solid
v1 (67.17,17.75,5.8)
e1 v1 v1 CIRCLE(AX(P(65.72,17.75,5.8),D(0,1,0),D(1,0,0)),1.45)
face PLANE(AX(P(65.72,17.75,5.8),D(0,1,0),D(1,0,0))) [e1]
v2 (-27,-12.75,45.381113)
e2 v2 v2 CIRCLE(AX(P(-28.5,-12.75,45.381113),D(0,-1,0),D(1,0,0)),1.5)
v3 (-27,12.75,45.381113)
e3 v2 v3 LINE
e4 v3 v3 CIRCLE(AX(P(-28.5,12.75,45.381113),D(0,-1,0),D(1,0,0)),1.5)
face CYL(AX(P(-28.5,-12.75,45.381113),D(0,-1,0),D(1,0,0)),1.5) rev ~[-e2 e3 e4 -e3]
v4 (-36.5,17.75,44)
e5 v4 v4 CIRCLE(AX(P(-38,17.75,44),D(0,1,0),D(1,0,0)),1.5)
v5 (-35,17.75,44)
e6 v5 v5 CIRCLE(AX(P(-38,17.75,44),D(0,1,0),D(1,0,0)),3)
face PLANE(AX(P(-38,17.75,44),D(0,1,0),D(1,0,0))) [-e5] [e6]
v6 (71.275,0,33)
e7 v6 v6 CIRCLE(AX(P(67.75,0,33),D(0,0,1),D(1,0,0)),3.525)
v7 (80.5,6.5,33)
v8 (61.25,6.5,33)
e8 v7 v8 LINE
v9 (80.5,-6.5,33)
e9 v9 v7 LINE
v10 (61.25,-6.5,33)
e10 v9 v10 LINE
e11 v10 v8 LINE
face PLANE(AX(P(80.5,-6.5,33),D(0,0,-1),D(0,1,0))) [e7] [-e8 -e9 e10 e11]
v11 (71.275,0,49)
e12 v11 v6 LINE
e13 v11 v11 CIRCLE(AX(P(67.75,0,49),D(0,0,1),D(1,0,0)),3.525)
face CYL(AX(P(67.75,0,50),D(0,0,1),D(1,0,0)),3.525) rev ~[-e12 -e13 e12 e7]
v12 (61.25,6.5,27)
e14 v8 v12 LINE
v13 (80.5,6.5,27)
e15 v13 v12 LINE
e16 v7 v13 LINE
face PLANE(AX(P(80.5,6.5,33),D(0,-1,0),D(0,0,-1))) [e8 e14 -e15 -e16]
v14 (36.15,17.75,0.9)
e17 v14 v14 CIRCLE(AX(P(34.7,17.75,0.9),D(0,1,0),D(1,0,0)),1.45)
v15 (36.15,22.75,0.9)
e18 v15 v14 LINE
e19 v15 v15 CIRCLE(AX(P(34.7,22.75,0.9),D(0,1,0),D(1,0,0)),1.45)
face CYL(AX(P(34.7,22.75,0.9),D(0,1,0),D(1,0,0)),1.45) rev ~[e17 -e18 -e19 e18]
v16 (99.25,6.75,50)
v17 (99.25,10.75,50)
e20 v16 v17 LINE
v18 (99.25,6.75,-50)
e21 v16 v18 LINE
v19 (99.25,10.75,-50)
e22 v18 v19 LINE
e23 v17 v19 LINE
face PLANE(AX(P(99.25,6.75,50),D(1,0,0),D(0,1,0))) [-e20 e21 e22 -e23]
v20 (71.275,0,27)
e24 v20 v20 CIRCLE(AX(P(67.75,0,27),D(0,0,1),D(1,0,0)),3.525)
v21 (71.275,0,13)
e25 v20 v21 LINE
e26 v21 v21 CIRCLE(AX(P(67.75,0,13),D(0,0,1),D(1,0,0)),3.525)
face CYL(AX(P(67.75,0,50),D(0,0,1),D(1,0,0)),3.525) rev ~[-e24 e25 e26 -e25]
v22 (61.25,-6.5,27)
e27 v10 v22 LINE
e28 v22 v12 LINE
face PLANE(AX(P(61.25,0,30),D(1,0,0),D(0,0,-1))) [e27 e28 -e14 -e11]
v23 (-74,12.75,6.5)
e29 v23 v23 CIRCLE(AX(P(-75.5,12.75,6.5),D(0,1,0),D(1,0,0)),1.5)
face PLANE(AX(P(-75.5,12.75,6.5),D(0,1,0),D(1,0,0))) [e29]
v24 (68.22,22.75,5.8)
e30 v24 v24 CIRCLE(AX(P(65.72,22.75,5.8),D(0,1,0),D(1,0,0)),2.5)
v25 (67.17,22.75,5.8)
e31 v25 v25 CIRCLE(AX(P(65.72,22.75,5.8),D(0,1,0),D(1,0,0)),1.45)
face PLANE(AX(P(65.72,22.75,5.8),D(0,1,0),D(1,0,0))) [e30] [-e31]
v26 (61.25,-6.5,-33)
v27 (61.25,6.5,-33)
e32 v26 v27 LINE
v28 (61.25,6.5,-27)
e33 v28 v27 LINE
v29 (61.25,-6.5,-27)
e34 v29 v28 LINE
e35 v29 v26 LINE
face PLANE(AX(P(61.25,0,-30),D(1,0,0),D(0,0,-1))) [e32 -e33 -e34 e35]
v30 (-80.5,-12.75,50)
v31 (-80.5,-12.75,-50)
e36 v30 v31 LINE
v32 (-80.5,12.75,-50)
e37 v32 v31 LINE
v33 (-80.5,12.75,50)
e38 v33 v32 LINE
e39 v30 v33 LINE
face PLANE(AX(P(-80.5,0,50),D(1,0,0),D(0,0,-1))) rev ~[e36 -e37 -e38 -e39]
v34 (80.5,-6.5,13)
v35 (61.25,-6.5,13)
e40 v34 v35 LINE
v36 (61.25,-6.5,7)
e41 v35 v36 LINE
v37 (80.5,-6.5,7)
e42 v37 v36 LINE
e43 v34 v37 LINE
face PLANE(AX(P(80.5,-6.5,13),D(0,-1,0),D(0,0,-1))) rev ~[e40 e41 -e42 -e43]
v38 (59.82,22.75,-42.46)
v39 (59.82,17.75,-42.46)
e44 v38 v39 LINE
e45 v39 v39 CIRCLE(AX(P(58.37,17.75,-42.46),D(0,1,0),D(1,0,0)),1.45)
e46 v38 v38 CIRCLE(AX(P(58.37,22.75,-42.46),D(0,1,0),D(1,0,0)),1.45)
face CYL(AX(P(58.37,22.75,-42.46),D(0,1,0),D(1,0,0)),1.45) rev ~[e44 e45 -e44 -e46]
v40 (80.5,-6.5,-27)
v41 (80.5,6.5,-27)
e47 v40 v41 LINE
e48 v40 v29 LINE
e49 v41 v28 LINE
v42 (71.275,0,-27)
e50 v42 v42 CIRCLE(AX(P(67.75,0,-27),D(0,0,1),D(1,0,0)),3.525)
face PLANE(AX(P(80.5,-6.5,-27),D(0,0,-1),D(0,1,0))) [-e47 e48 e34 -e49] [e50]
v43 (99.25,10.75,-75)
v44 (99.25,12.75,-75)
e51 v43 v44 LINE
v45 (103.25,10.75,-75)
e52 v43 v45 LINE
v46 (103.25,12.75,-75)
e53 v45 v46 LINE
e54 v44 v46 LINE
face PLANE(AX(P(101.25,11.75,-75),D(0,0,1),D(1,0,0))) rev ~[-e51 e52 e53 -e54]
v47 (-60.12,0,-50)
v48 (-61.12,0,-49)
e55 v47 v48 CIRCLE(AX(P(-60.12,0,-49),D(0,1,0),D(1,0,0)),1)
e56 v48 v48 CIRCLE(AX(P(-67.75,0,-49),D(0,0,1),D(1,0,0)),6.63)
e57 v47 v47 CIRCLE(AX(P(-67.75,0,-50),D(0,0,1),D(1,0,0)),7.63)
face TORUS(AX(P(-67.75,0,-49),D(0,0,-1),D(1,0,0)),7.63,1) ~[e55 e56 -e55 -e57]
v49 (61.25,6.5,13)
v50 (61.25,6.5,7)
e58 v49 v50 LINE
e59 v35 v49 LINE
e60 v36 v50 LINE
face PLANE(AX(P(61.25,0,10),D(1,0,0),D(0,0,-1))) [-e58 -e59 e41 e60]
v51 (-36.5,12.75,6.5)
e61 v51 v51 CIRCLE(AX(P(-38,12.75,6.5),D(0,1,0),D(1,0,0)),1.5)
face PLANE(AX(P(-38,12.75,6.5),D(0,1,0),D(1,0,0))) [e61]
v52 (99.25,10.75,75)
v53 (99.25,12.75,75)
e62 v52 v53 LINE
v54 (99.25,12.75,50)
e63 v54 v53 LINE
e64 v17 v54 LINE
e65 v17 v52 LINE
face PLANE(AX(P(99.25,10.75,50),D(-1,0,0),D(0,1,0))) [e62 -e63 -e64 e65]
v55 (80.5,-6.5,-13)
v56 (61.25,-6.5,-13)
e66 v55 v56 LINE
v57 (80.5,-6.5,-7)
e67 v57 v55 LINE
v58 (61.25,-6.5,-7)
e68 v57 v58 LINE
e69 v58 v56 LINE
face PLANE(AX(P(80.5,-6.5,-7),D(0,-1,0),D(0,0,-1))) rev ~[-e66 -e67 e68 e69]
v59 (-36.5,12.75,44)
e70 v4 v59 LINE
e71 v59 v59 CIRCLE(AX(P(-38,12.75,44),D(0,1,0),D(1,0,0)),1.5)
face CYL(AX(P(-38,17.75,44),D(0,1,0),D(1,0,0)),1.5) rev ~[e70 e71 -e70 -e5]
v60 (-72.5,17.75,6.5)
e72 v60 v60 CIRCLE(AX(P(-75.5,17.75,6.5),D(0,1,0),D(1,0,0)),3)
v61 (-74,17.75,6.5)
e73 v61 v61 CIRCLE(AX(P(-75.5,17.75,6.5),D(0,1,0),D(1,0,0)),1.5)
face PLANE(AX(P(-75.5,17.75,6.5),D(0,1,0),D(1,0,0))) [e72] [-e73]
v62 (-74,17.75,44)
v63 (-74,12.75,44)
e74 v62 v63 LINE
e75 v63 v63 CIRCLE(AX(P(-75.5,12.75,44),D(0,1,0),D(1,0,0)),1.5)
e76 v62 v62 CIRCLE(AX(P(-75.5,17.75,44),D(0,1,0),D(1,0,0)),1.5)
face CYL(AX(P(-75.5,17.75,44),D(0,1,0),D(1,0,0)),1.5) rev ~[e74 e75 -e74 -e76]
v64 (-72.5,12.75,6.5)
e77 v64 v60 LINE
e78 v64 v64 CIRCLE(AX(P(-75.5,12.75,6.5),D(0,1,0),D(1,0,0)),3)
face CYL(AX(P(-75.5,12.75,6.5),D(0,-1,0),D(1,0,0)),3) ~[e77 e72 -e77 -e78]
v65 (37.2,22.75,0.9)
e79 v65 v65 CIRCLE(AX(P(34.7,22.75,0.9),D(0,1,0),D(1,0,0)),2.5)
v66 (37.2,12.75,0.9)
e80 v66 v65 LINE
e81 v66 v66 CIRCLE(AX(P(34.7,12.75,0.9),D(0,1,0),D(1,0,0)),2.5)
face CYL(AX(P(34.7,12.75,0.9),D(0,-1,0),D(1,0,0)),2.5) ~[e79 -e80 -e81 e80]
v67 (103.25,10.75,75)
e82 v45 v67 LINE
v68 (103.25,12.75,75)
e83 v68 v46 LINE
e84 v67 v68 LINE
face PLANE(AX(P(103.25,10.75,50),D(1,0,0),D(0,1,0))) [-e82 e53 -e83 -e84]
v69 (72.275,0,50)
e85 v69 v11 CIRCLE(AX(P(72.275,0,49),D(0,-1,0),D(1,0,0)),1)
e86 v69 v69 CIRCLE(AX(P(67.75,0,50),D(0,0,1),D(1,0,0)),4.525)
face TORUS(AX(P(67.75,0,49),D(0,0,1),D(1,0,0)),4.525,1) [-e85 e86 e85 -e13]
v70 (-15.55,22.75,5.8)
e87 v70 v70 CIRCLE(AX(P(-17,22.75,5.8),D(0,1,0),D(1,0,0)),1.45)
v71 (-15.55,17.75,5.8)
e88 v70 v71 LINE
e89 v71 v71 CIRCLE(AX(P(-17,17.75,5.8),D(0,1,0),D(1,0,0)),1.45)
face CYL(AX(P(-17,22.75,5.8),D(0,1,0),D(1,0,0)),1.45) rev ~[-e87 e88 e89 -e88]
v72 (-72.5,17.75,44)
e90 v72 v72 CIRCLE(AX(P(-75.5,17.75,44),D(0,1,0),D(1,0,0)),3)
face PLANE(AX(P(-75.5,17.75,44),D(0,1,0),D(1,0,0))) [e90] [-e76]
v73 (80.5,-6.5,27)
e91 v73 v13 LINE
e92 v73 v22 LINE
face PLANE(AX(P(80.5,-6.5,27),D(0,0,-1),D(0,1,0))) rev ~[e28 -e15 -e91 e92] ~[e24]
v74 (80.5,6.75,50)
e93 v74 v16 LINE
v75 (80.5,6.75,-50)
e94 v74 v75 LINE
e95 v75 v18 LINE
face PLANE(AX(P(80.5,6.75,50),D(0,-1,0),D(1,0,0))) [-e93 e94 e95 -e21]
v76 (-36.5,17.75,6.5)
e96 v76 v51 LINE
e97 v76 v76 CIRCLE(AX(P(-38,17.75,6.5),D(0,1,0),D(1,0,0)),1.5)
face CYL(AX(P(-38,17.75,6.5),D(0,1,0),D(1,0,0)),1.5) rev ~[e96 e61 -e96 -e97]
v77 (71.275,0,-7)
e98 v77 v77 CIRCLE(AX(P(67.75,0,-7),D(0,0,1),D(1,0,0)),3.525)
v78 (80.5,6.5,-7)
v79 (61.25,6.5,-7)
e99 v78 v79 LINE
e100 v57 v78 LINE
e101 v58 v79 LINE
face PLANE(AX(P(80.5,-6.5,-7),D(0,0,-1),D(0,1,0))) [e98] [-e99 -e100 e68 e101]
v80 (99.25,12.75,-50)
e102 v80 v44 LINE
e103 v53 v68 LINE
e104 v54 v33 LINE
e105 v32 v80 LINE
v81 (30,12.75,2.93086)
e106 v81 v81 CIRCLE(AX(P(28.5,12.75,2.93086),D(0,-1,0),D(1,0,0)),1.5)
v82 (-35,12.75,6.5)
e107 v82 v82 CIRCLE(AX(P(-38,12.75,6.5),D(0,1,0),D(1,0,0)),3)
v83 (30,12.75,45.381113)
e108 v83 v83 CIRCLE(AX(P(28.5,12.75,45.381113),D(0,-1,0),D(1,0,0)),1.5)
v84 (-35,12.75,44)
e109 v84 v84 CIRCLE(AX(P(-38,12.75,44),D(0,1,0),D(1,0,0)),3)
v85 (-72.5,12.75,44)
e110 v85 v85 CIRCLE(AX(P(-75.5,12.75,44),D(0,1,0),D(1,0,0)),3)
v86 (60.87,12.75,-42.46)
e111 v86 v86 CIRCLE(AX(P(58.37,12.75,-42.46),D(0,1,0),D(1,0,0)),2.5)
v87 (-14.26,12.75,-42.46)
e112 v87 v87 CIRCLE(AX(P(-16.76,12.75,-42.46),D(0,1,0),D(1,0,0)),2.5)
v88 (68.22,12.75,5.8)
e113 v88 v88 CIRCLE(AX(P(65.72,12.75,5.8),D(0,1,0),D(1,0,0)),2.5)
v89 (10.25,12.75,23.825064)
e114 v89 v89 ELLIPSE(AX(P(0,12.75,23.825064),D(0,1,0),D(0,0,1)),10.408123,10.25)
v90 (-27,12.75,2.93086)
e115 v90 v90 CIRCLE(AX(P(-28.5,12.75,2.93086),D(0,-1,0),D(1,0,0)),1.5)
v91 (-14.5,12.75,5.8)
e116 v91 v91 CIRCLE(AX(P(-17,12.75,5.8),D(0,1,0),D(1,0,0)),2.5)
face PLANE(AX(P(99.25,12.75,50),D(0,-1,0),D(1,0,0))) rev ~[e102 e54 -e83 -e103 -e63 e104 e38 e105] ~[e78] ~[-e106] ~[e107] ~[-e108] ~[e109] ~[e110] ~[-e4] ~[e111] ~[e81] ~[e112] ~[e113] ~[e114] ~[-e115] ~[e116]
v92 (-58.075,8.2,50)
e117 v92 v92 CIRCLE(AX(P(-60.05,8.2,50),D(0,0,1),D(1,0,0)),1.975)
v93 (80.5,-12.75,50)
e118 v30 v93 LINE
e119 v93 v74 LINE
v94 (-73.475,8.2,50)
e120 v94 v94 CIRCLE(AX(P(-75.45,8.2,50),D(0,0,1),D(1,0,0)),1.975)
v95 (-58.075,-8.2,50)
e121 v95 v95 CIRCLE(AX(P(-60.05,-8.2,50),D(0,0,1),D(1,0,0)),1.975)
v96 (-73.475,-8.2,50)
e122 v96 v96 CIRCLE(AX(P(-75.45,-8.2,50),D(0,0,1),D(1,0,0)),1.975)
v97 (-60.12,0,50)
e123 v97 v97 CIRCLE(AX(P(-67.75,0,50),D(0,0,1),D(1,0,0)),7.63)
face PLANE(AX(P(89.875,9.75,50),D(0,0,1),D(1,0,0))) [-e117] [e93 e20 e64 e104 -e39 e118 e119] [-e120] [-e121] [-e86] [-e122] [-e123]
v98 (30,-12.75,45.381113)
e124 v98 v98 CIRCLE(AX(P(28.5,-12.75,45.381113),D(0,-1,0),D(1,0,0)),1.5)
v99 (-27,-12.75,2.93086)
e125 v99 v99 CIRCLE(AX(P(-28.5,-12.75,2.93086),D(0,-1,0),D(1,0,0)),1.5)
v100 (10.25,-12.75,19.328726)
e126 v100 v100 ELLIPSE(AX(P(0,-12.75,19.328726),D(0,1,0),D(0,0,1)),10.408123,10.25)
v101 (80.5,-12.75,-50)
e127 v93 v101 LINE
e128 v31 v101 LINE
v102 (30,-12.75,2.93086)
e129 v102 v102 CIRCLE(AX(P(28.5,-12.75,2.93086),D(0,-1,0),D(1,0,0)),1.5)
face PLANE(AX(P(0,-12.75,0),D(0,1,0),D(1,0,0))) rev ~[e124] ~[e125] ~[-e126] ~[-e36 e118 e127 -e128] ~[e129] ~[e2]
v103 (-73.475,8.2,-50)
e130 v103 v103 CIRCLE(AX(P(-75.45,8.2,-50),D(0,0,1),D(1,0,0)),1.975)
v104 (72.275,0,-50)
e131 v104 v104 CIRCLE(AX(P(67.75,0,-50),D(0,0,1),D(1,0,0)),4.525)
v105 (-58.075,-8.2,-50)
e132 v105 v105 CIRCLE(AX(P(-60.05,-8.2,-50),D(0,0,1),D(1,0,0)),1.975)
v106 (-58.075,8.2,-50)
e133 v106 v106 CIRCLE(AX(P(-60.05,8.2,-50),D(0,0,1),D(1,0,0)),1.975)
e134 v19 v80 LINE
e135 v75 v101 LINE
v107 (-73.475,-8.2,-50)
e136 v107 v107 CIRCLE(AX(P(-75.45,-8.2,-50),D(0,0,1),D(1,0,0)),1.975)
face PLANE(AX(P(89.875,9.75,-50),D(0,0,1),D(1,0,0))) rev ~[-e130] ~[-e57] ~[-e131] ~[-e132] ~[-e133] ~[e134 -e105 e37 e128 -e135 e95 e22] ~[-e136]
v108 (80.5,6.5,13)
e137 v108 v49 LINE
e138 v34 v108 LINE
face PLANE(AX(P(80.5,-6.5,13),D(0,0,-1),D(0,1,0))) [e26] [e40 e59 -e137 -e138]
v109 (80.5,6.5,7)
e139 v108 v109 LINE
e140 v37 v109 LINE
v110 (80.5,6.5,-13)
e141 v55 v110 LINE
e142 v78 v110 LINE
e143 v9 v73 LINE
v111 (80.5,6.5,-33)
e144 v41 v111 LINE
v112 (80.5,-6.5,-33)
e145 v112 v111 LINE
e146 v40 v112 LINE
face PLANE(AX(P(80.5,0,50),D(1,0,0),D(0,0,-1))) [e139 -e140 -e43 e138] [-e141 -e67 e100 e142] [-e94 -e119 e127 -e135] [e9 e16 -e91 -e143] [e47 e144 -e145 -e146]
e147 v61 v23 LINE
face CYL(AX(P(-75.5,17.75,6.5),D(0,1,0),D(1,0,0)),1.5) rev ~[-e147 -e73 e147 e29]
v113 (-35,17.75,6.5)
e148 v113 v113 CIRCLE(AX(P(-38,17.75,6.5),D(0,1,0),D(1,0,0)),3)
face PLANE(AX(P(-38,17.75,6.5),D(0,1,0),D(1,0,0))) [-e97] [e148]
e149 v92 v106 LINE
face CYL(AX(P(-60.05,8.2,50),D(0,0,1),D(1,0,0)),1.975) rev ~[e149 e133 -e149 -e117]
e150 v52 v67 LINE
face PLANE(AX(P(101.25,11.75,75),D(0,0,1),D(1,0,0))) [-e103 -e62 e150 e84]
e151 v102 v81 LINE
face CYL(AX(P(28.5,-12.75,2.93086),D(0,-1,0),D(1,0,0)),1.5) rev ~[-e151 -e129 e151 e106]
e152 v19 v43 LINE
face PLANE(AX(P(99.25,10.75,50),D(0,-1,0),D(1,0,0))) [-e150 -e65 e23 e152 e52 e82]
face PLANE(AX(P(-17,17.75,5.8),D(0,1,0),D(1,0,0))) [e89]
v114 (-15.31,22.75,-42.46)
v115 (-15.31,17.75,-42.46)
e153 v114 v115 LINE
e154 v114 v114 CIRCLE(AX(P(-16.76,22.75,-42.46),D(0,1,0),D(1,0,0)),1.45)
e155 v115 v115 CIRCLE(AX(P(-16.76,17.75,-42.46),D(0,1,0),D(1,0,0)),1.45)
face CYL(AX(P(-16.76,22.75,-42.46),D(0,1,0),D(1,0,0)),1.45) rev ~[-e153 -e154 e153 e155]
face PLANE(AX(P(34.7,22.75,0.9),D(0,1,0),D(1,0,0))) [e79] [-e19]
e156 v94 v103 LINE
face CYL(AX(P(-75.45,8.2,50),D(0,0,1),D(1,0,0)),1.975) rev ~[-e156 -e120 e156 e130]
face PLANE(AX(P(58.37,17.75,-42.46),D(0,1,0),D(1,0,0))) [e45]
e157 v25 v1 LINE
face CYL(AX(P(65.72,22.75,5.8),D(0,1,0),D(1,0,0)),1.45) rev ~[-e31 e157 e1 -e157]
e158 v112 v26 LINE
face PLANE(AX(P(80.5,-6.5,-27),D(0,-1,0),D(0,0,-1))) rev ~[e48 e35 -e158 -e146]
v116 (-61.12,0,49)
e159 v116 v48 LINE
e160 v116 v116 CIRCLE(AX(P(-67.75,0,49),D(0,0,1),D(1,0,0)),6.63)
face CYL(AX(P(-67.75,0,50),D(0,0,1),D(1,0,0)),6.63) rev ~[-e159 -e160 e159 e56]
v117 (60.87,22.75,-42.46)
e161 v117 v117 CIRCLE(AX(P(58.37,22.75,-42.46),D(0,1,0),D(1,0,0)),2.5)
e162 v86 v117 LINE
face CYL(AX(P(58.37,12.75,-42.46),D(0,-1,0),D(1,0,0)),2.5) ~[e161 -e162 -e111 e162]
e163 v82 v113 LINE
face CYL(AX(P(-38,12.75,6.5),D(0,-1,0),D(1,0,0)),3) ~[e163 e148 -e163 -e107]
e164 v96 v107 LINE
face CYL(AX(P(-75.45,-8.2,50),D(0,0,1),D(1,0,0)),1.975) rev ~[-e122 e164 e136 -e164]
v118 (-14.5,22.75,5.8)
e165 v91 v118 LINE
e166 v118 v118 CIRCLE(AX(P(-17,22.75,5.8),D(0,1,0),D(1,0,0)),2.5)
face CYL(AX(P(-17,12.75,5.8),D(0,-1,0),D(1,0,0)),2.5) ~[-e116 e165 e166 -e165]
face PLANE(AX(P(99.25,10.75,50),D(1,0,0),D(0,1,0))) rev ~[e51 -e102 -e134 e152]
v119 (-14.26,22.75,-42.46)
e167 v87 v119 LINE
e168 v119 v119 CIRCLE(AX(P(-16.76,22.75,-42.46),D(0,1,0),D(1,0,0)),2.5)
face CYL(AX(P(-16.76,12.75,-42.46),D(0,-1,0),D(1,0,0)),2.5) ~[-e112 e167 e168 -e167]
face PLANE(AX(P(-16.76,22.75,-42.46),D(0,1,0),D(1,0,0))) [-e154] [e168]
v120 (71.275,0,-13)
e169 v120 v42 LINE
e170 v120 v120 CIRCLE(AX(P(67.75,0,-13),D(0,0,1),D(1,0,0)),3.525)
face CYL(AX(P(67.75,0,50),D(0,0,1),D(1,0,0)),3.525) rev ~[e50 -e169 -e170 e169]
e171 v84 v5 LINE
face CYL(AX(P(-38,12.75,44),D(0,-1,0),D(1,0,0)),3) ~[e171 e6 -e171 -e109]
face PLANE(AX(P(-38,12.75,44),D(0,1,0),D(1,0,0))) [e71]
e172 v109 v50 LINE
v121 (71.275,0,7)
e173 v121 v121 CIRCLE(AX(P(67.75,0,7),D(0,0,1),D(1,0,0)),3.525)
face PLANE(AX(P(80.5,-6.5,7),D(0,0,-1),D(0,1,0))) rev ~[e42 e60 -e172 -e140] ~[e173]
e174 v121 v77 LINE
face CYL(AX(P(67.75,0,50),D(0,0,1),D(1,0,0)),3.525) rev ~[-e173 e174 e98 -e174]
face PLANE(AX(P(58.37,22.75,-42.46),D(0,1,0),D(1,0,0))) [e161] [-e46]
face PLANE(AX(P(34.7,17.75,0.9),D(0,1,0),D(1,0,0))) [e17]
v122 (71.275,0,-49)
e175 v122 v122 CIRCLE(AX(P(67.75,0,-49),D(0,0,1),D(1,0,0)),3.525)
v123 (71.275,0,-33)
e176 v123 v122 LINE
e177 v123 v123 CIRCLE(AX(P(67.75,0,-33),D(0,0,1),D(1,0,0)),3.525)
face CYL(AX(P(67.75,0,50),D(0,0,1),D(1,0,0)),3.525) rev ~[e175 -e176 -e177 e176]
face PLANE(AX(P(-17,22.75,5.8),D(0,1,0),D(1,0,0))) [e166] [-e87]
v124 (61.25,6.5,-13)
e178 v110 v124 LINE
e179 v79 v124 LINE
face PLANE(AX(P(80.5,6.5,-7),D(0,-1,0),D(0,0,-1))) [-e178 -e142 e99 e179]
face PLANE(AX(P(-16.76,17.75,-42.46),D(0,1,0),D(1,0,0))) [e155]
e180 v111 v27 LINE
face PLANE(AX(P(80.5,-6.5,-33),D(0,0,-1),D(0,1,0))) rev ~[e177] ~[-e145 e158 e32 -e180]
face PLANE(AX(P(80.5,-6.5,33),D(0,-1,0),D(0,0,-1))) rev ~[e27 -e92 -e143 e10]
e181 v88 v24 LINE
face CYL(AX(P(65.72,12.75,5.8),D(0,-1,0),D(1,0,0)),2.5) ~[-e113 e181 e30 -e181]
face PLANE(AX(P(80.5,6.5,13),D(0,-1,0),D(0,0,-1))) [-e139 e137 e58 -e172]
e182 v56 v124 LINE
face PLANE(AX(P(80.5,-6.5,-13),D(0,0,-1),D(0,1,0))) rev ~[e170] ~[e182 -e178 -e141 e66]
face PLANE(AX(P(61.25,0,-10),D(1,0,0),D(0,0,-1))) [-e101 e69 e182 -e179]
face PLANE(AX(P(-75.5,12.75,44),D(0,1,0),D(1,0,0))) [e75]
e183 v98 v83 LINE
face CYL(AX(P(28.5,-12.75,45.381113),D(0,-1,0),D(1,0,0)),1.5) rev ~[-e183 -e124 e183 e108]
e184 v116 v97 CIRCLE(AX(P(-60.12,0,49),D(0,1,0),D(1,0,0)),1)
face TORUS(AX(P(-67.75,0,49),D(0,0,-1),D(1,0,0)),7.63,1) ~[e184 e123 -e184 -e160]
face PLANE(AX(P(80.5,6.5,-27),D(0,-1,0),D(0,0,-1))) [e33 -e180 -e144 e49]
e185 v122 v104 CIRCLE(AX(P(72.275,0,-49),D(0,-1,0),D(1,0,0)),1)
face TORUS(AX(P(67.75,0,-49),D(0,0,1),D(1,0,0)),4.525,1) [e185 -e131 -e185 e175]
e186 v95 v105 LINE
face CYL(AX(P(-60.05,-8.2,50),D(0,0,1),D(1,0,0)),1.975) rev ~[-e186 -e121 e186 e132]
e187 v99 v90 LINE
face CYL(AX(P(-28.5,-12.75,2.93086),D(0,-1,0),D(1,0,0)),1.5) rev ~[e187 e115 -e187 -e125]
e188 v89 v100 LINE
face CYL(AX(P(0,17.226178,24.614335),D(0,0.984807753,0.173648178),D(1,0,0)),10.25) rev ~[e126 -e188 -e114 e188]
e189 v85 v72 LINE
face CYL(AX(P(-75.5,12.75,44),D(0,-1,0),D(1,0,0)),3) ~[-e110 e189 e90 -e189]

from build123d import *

# Parameters (mm, degrees)
SKETCH1_W                = 161
SKETCH1_H                = 100
BOSS_EXTRUDE1_DEPTH      = 12.75
BOSS_EXTRUDE1_DEPTH_BACK = 12.75
SKETCH2_R                = 6.63
SKETCH2_R_2              = 3.525
SKETCH2_R_3              = 1.975
CUT_EXTRUDE1_DEPTH       = 101
FILLET1_R                = 1
FILLET2_R                = 1
FILLET3_R                = 1
FILLET4_R                = 1
SKETCH3_R                = 2.5
BOSS_EXTRUDE2_DEPTH      = 10
SKETCH4_R                = 1.45
CUT_EXTRUDE2_DEPTH       = 5
SKETCH5_W                = 6
SKETCH5_H                = 13
CUT_EXTRUDE3_DEPTH       = 19.25
SKETCH6_R                = 10.25
CUT_EXTRUDE4_DEPTH       = 43.477415469
SKETCH8_R                = 1.5
CUT_EXTRUDE5_DEPTH       = 36.5
SKETCH11_R               = 3
BOSS_EXTRUDE4_DEPTH      = 5
SKETCH12_R               = 1.5
CUT_EXTRUDE7_DEPTH       = 5
SKETCH13_W               = 18.75
SKETCH13_H               = 6
BOSS_EXTRUDE5_DEPTH      = 100
SKETCH14_W               = 4
SKETCH14_H               = 2
BOSS_EXTRUDE6_DEPTH      = 25
BOSS_EXTRUDE6_DEPTH_BACK = 125


with BuildPart() as part:
    # Sketch1 → Boss-Extrude1 (new body, two sides)
    with BuildSketch(Plane(origin=(0, 0, 0), x_dir=(1, 0, 0), z_dir=(0, 1, 0))) as boss_extrude1_sk:
        Rectangle(SKETCH1_W, SKETCH1_H)
    extrude(amount=BOSS_EXTRUDE1_DEPTH)
    extrude(boss_extrude1_sk.sketch, amount=-BOSS_EXTRUDE1_DEPTH_BACK)

    # Sketch2 → Cut-Extrude1 (cut, through all)
    with BuildSketch(Plane.XY.offset(50)):
        with Locations((-67.75, 0)):
            Circle(SKETCH2_R)
        with Locations((67.75, 0)):
            Circle(SKETCH2_R_2)
        with Locations((-75.45, 8.2)):
            Circle(SKETCH2_R_3)
        with Locations((-75.45, -8.2)):
            Circle(SKETCH2_R_3)
        with Locations((-60.05, -8.2)):
            Circle(SKETCH2_R_3)
        with Locations((-60.05, 8.2)):
            Circle(SKETCH2_R_3)
    extrude(amount=-CUT_EXTRUDE1_DEPTH, mode=Mode.SUBTRACT)

    # Fillet1
    fillet1_edges = [part.edges().sort_by_distance(p)[0] for p in [
        (-74.38, 0, -50),
    ]]
    fillet(fillet1_edges, radius=FILLET1_R)

    # Fillet2
    fillet2_edges = [part.edges().sort_by_distance(p)[0] for p in [
        (-74.38, 0, 50),
    ]]
    fillet(fillet2_edges, radius=FILLET2_R)

    # Fillet3
    fillet3_edges = [part.edges().sort_by_distance(p)[0] for p in [
        (64.225, 0, 50),
    ]]
    fillet(fillet3_edges, radius=FILLET3_R)

    # Fillet4
    fillet4_edges = [part.edges().sort_by_distance(p)[0] for p in [
        (64.225, 0, -50),
    ]]
    fillet(fillet4_edges, radius=FILLET4_R)

    # Sketch3 → Boss-Extrude2 (add)
    with BuildSketch(Plane(origin=(0, 12.75, 0), x_dir=(1, 0, 0), z_dir=(0, 1, 0))):
        with Locations((-16.76, 42.46)):
            Circle(SKETCH3_R)
        with Locations((58.37, 42.46)):
            Circle(SKETCH3_R)
        with Locations((-17, -5.8)):
            Circle(SKETCH3_R)
        with Locations((34.7, -0.9)):
            Circle(SKETCH3_R)
        with Locations((65.72, -5.8)):
            Circle(SKETCH3_R)
    extrude(amount=BOSS_EXTRUDE2_DEPTH)

    # Sketch4 → Cut-Extrude2 (cut)
    with BuildSketch(Plane(origin=(0, 22.75, 0), x_dir=(1, 0, 0), z_dir=(0, 1, 0))):
        with Locations((-16.76, 42.46)):
            Circle(SKETCH4_R)
        with Locations((-17, -5.8)):
            Circle(SKETCH4_R)
        with Locations((34.7, -0.9)):
            Circle(SKETCH4_R)
        with Locations((65.72, -5.8)):
            Circle(SKETCH4_R)
        with Locations((58.37, 42.46)):
            Circle(SKETCH4_R)
    extrude(amount=-CUT_EXTRUDE2_DEPTH, mode=Mode.SUBTRACT)

    # Sketch5 → Cut-Extrude3 (cut)
    with BuildSketch(Plane(origin=(80.5, 0, 0), x_dir=(0, 0, -1), z_dir=(1, 0, 0))):
        with Locations((-30, 0)):
            Rectangle(SKETCH5_W, SKETCH5_H)
        with Locations((-10, 0)):
            Rectangle(SKETCH5_W, SKETCH5_H)
        with Locations((10, 0)):
            Rectangle(SKETCH5_W, SKETCH5_H)
        with Locations((30, 0)):
            Rectangle(SKETCH5_W, SKETCH5_H)
    extrude(amount=-CUT_EXTRUDE3_DEPTH, mode=Mode.SUBTRACT)

    # Sketch6 → Cut-Extrude4 (cut, through all)
    with BuildSketch(Plane(origin=(0, 20.916044041, 3.688062894), x_dir=(1, 0, 0), z_dir=(0, 0.984807753, 0.173648178))):
        with Locations((0, -21.249093385)):
            Circle(SKETCH6_R)
    extrude(amount=-CUT_EXTRUDE4_DEPTH, mode=Mode.SUBTRACT)

    # Sketch8 → Cut-Extrude5 (cut, through all)
    with BuildSketch(Plane.XZ.offset(12.75)):
        with Locations((28.5, 2.93086019)):
            Circle(SKETCH8_R)
        with Locations((28.5, 45.38111272)):
            Circle(SKETCH8_R)
        with Locations((-28.5, 2.93086019)):
            Circle(SKETCH8_R)
        with Locations((-28.5, 45.38111272)):
            Circle(SKETCH8_R)
    extrude(amount=-CUT_EXTRUDE5_DEPTH, mode=Mode.SUBTRACT)

    # Sketch11 → Boss-Extrude4 (add)
    with BuildSketch(Plane(origin=(0, 12.75, 0), x_dir=(1, 0, 0), z_dir=(0, 1, 0))):
        with Locations((-38, -6.5)):
            Circle(SKETCH11_R)
        with Locations((-38, -44)):
            Circle(SKETCH11_R)
        with Locations((-75.5, -6.5)):
            Circle(SKETCH11_R)
        with Locations((-75.5, -44)):
            Circle(SKETCH11_R)
    extrude(amount=BOSS_EXTRUDE4_DEPTH)

    # Sketch12 → Cut-Extrude7 (cut)
    with BuildSketch(Plane(origin=(0, 17.75, 0), x_dir=(1, 0, 0), z_dir=(0, 1, 0))):
        with Locations((-75.5, -44)):
            Circle(SKETCH12_R)
        with Locations((-75.5, -6.5)):
            Circle(SKETCH12_R)
        with Locations((-38, -6.5)):
            Circle(SKETCH12_R)
        with Locations((-38, -44)):
            Circle(SKETCH12_R)
    extrude(amount=-CUT_EXTRUDE7_DEPTH, mode=Mode.SUBTRACT)

    # Sketch13 → Boss-Extrude5 (add)
    with BuildSketch(Plane.XY.offset(50)):
        with Locations((89.875, 9.75)):
            Rectangle(SKETCH13_W, SKETCH13_H)
    extrude(amount=-BOSS_EXTRUDE5_DEPTH)

    # Sketch14 → Boss-Extrude6 (add, two sides)
    with BuildSketch(Plane.XY.offset(50)) as boss_extrude6_sk:
        with Locations((101.25, 11.75)):
            Rectangle(SKETCH14_W, SKETCH14_H)
    extrude(amount=BOSS_EXTRUDE6_DEPTH)
    extrude(boss_extrude6_sk.sketch, amount=-BOSS_EXTRUDE6_DEPTH_BACK)


solid = part.part
